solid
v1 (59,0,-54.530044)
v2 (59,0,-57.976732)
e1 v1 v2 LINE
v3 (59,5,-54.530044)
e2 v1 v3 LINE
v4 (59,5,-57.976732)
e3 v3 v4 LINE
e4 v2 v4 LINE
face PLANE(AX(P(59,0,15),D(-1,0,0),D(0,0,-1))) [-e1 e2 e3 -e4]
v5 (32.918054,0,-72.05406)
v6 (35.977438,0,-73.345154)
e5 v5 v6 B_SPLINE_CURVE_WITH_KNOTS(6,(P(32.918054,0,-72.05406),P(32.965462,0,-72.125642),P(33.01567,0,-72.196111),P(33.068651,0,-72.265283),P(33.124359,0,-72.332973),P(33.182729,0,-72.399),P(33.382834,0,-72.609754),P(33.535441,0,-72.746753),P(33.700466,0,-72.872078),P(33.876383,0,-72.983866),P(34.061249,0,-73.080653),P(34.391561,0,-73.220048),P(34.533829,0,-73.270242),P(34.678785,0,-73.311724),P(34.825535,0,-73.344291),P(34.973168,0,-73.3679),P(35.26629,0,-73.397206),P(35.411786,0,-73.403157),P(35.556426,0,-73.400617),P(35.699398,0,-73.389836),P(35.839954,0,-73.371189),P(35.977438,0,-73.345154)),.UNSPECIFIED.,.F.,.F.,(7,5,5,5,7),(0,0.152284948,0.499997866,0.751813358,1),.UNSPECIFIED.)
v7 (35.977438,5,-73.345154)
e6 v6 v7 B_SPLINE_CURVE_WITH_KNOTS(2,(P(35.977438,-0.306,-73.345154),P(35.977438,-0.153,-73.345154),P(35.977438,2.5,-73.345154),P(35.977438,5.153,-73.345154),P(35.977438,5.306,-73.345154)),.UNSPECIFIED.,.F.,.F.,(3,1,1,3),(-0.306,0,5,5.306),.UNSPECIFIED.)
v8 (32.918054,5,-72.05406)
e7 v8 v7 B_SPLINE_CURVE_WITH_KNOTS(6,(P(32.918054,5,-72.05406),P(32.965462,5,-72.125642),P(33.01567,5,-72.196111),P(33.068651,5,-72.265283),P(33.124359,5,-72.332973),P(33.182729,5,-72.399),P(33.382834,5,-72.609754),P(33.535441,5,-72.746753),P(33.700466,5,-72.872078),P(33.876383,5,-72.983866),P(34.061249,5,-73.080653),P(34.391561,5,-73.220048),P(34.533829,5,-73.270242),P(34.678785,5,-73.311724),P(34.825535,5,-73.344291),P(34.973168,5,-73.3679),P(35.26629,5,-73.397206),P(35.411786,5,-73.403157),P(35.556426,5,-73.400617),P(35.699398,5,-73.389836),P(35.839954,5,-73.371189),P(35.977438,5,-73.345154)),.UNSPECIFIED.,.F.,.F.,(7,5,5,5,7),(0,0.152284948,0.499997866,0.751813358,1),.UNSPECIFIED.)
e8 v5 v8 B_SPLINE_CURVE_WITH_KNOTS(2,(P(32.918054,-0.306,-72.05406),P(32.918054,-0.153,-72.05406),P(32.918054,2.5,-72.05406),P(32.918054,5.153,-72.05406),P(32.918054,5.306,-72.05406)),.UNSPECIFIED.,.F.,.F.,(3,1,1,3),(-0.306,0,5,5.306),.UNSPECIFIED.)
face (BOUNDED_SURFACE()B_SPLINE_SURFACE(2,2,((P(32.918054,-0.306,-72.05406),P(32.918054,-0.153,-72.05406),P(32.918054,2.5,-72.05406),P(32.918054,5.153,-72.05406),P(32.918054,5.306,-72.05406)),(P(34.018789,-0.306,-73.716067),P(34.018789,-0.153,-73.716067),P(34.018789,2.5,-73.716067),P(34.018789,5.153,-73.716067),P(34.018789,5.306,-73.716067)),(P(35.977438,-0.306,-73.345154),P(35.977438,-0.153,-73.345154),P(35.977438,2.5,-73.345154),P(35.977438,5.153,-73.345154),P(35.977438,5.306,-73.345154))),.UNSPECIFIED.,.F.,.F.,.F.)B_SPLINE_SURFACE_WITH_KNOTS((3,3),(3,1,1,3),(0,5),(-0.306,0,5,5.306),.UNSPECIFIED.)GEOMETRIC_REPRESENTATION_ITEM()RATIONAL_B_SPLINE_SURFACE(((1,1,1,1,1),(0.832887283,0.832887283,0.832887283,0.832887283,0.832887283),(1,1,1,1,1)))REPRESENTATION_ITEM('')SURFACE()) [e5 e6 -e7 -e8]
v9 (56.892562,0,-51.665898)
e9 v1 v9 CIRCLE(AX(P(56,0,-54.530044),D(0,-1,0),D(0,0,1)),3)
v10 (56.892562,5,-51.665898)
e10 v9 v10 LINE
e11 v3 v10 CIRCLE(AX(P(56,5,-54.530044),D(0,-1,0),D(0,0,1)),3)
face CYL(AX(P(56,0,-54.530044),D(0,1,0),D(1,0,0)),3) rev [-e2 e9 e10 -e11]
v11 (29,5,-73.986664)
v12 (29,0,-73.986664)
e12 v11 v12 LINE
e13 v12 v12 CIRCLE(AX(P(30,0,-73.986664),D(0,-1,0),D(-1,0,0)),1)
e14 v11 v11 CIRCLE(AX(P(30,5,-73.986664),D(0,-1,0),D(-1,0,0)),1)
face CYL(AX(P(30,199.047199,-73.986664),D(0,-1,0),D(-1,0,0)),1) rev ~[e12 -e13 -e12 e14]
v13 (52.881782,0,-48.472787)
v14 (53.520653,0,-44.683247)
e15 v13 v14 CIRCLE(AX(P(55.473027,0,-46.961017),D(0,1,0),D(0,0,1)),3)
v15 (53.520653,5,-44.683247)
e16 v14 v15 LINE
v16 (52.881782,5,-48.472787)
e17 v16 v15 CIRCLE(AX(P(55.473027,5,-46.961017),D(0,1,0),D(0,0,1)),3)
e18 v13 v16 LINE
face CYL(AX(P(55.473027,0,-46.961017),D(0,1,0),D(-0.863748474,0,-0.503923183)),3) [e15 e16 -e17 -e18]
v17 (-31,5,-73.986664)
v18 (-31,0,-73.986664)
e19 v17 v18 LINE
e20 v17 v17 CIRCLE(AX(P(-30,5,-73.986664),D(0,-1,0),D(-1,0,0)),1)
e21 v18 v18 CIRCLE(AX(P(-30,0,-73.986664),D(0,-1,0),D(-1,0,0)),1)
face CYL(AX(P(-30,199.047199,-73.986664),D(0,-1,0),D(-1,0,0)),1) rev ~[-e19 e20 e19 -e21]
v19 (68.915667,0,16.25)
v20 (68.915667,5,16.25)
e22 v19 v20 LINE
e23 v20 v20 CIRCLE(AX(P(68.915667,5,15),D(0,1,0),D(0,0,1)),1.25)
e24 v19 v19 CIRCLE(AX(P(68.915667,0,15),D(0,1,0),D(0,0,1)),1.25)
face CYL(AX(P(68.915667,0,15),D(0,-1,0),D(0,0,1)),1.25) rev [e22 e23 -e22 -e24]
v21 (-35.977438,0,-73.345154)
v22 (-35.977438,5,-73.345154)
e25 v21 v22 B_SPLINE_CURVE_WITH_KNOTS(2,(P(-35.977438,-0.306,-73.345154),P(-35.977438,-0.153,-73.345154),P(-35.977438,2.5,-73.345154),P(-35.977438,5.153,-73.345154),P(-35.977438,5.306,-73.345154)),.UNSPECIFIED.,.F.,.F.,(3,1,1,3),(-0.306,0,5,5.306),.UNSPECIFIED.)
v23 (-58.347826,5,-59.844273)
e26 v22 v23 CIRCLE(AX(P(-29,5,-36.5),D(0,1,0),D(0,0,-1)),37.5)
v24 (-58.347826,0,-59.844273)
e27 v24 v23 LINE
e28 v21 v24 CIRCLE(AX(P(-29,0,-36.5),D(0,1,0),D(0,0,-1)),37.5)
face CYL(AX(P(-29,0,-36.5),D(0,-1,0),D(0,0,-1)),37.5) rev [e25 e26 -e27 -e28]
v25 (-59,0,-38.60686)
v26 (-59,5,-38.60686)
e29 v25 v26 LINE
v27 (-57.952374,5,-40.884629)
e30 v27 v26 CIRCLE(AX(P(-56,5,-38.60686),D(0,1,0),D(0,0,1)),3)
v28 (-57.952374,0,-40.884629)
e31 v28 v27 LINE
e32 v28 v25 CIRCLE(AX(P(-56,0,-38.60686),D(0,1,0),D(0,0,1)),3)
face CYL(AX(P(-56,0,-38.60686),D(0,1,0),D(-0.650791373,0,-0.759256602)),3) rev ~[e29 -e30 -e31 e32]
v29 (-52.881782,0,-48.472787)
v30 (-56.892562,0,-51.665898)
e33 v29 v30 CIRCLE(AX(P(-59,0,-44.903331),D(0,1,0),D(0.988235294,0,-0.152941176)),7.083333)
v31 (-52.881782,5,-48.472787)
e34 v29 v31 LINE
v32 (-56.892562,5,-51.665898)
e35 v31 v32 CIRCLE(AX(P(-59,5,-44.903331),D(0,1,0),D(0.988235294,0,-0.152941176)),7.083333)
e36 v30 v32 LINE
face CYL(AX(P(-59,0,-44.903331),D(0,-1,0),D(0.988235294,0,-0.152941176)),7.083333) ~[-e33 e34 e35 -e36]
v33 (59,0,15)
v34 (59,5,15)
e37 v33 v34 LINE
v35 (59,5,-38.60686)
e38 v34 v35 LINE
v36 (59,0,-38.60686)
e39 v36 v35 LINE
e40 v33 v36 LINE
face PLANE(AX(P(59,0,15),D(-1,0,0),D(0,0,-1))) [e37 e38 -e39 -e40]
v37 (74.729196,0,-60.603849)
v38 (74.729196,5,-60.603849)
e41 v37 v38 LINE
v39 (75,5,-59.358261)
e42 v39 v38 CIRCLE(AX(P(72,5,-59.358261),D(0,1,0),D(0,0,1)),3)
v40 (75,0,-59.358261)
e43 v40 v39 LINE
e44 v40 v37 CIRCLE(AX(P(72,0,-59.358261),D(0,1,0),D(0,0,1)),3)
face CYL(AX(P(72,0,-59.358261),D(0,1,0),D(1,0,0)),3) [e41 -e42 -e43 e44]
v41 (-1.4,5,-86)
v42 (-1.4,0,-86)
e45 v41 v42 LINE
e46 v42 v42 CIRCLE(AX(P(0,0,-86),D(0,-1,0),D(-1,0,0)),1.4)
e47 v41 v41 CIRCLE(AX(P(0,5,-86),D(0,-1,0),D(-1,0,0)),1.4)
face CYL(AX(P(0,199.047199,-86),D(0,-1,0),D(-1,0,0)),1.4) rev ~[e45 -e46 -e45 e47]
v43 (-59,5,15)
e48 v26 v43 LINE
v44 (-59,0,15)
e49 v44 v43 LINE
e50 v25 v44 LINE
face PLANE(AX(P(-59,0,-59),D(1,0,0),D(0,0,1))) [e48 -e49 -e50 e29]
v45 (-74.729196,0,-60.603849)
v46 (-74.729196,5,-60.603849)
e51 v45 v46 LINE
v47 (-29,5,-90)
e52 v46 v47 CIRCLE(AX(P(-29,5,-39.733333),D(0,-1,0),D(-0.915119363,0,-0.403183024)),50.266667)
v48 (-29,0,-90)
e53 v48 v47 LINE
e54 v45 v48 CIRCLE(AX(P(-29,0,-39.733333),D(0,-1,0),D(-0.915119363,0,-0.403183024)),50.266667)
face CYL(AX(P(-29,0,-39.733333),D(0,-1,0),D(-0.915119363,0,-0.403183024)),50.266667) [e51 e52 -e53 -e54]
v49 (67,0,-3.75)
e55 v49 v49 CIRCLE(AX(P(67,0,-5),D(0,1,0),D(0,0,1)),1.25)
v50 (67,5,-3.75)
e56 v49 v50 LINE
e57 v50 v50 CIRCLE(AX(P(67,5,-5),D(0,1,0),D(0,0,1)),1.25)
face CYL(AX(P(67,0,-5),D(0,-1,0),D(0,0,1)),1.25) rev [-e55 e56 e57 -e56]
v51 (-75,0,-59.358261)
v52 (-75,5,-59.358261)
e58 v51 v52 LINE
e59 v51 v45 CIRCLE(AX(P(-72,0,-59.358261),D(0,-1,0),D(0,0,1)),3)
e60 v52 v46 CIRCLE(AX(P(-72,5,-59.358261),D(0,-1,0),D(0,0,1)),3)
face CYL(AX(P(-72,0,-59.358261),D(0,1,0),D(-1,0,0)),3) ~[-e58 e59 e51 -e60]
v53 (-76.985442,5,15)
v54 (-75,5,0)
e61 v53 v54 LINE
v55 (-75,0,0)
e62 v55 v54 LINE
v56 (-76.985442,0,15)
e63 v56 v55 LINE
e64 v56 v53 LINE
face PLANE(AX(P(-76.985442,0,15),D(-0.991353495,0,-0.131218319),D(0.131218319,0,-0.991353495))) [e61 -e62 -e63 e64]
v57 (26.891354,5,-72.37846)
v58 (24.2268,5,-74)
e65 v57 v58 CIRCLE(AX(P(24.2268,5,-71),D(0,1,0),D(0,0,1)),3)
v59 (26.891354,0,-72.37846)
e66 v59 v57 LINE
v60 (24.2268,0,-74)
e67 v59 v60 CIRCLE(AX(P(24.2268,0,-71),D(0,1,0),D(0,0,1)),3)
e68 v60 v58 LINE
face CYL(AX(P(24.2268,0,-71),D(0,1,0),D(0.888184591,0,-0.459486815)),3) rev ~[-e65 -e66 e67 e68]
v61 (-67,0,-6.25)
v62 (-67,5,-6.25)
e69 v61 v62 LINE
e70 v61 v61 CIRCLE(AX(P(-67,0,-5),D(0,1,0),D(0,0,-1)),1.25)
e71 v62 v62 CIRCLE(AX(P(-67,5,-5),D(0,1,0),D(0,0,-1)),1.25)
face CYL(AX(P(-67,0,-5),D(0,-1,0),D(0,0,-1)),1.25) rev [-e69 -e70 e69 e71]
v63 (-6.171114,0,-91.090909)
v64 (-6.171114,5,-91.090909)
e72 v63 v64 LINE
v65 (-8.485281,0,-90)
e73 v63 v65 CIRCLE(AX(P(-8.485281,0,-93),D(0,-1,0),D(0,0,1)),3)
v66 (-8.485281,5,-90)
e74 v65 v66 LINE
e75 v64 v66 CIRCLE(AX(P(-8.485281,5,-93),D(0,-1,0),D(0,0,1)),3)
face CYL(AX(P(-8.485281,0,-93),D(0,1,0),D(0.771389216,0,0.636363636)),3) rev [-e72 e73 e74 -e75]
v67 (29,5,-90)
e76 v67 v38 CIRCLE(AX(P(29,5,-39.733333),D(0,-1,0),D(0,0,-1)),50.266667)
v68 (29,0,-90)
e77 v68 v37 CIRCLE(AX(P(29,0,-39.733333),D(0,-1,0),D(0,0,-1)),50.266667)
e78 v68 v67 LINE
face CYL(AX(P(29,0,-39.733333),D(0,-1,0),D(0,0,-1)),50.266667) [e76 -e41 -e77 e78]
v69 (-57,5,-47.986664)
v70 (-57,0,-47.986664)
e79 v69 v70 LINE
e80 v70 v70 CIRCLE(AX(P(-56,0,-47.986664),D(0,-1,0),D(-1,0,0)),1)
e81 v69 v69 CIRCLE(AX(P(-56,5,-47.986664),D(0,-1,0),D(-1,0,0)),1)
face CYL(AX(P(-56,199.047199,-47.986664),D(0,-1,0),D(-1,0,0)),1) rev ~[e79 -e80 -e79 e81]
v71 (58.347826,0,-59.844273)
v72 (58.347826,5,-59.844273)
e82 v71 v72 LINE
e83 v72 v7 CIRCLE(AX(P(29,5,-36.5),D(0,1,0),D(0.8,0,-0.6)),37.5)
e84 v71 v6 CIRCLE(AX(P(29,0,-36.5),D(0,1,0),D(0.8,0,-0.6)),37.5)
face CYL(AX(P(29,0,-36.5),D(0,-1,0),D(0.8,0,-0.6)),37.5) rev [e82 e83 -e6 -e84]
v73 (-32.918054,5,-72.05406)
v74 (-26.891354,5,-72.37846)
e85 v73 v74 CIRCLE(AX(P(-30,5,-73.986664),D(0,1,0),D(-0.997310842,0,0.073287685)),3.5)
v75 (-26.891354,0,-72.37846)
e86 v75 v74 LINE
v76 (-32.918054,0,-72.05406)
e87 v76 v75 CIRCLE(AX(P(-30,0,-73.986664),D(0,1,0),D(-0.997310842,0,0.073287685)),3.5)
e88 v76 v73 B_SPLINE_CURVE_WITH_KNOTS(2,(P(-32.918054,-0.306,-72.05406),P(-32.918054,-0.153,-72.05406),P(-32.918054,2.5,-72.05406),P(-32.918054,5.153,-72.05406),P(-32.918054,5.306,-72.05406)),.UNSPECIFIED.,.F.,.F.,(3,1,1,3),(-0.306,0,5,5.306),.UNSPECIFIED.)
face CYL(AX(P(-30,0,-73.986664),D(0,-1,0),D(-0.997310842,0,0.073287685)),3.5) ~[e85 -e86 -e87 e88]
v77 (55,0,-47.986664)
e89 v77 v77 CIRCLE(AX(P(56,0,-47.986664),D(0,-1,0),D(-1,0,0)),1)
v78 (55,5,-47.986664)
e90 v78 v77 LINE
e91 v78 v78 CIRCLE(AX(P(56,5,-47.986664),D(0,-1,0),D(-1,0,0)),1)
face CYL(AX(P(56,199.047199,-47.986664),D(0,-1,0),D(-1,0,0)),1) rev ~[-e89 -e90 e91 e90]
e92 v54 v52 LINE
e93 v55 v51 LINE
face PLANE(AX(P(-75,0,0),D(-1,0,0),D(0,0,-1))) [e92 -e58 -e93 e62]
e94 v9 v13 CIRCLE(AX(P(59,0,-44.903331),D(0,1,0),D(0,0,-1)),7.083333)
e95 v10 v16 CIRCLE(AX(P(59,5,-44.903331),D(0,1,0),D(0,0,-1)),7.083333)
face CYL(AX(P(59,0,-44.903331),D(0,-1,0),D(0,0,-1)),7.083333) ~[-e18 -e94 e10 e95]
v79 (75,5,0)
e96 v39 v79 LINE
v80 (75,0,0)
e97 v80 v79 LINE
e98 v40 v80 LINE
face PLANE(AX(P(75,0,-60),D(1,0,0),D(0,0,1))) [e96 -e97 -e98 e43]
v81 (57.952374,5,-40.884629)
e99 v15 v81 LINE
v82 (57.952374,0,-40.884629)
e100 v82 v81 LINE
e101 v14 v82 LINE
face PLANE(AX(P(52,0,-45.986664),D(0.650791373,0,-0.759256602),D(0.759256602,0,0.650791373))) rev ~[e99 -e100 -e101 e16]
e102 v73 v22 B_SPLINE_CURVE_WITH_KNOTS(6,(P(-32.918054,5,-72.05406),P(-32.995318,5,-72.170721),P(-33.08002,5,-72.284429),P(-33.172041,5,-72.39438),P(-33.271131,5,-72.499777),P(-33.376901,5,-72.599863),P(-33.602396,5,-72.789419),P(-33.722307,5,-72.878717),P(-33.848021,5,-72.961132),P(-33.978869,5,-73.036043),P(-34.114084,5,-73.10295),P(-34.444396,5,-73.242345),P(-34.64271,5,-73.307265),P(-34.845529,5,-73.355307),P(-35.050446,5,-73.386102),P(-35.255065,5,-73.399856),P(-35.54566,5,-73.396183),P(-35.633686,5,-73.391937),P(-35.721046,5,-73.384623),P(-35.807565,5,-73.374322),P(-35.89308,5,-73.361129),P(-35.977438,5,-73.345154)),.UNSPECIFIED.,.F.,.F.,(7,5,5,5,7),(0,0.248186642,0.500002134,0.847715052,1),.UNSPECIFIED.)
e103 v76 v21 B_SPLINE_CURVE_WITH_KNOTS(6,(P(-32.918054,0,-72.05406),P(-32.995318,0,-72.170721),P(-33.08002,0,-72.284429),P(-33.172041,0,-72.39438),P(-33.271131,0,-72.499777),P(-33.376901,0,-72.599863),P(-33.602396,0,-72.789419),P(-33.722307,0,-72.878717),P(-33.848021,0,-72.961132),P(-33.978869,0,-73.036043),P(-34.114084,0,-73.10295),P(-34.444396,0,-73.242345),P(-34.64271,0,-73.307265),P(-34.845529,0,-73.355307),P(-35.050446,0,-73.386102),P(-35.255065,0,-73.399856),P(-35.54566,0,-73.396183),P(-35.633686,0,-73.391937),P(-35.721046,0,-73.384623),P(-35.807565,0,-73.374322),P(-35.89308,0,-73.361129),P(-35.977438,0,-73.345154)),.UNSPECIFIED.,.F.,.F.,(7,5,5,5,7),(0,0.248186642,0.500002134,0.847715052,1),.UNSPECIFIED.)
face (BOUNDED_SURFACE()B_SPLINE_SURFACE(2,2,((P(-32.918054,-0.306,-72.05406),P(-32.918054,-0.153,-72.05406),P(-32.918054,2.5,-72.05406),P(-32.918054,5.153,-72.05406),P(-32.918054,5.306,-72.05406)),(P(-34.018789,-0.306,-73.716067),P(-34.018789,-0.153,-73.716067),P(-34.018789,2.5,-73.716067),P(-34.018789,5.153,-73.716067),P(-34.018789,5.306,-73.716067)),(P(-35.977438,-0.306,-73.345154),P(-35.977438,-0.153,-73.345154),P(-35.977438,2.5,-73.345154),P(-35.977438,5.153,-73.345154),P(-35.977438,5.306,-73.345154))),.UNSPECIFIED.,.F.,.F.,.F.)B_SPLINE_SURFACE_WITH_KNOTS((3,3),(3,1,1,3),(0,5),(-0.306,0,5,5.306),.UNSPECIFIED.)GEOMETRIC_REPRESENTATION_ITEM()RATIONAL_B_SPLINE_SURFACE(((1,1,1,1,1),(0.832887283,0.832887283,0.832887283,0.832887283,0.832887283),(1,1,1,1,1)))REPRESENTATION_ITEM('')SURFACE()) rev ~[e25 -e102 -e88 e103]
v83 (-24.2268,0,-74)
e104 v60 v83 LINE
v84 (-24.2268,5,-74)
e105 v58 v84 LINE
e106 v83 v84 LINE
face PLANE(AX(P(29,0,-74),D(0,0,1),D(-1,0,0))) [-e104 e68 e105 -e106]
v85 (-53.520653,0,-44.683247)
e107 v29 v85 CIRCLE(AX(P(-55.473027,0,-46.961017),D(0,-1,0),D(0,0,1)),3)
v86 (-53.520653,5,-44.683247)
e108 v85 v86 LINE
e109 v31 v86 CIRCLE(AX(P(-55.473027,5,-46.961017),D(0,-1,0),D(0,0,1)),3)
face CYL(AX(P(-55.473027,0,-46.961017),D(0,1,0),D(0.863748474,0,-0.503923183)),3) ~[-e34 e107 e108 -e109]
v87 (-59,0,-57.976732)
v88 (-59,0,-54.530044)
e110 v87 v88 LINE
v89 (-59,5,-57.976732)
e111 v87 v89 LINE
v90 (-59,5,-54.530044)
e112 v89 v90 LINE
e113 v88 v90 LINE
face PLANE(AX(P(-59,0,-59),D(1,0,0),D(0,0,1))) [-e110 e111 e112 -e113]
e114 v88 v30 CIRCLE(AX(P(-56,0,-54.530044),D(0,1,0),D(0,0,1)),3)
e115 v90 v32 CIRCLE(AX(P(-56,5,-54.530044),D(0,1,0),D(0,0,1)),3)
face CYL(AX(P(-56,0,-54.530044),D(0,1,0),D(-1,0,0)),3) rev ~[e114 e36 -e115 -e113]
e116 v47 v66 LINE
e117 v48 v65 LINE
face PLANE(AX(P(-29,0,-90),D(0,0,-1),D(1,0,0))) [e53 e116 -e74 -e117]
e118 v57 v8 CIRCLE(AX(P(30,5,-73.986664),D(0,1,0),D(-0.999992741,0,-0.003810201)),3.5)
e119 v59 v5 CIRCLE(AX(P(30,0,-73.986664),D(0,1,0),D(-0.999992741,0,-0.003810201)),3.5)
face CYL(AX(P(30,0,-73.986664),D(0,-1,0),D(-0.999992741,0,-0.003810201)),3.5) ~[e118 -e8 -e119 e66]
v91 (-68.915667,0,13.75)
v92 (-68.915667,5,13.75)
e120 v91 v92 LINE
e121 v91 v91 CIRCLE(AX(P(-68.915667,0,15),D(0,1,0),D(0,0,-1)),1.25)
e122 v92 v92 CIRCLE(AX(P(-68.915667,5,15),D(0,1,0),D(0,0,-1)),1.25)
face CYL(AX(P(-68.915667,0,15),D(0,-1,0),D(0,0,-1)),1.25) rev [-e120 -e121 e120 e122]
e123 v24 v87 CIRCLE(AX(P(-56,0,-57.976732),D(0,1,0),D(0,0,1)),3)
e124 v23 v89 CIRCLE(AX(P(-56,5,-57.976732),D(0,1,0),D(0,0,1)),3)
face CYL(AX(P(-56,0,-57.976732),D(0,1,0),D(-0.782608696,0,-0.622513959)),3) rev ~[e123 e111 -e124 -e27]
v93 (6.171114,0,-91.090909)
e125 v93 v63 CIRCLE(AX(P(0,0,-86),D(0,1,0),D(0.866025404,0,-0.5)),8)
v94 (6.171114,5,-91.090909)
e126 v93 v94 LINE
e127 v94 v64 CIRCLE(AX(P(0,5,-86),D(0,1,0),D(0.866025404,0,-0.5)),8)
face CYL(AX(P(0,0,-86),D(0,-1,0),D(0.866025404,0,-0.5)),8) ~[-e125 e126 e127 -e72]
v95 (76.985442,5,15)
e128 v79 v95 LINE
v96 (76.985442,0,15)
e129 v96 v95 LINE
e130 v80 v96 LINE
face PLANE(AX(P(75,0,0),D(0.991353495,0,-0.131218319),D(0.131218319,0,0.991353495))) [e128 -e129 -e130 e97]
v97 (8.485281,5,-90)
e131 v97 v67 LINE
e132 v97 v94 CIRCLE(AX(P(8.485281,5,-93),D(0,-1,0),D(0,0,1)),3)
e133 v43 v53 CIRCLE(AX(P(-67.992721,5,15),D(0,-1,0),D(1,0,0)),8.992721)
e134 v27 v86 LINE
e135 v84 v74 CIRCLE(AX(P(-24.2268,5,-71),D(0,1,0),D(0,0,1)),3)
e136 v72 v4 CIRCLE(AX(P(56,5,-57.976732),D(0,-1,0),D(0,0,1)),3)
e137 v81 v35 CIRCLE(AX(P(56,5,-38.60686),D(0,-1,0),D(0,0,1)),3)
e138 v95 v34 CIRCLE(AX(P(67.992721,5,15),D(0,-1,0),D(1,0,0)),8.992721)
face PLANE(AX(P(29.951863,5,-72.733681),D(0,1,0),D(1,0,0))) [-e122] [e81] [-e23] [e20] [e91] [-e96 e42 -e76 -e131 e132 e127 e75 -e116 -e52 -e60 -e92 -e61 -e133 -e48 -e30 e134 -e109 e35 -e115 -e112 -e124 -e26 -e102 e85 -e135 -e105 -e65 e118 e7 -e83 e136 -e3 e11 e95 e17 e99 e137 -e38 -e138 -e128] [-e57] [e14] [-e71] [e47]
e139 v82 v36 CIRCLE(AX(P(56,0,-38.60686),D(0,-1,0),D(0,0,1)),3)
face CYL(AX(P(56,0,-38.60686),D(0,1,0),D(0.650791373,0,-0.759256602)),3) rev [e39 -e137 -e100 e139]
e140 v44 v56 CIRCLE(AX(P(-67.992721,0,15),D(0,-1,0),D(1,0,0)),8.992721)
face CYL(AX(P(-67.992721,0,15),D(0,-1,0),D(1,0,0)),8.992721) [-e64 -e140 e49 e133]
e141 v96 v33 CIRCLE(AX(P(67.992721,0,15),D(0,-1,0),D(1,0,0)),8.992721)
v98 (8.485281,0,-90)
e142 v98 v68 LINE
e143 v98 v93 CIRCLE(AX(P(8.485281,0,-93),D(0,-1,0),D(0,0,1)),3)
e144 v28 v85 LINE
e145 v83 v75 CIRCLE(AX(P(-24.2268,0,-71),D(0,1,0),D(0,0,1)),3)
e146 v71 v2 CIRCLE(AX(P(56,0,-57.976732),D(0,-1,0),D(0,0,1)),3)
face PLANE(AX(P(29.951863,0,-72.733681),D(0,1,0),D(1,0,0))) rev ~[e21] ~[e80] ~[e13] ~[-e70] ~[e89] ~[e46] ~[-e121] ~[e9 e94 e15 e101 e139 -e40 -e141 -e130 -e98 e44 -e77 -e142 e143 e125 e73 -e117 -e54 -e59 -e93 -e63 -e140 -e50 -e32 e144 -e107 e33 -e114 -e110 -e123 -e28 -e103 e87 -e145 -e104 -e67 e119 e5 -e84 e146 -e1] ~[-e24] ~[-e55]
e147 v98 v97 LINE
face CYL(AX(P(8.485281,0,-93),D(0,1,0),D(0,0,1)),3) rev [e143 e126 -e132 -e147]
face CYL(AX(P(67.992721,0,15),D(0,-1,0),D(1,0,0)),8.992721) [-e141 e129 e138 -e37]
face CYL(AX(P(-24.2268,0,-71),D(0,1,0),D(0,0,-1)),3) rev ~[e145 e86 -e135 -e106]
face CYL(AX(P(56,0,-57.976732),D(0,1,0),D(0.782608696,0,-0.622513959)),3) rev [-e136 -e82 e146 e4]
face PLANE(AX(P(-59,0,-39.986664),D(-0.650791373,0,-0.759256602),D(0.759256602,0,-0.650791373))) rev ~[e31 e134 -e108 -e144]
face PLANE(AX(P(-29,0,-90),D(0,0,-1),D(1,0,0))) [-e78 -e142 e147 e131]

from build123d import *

# Parameters (mm, degrees)
SKETCH1_R                  = 1.25
BOSS_EXTRUDE1_DEPTH        = 5
BOSS_EXTRUDE2_START        = -5
BOSS_EXTRUDE2_DEPTH        = 5
F_2_0_2_DIAMETER_HOLE2_D   = 2
FILLET2_R                  = 3
F_2_8_2_8_DIAMETER_HOLE1_D = 2.8


with BuildPart() as part:
    # Sketch1 → Boss-Extrude1 (new body)
    with BuildSketch(Plane(origin=(0, 0, 0), x_dir=(1, 0, 0), z_dir=(0, 1, 0))):
        with BuildLine():
            Line((29, 74), (-29, 74))
            ThreePointArc((-29, 74), (-45.770509831, 70.041019662), (-59, 59))
            Line((-59, 59), (-59, 0))
            Line((-59, 0), (-59, -15))
            ThreePointArc((-59, -15), (-67.992720962, -23.992720962), (-76.985441925, -15))
            Line((-76.985441925, -15), (-75, 0))
            Line((-75, 0), (-75, 60))
            ThreePointArc((-75, 60), (-56.459060435, 81.837226001), (-29, 90))
            Line((-29, 90), (29, 90))
            ThreePointArc((29, 90), (56.459060435, 81.837226001), (75, 60))
            Line((75, 60), (75, 0))
            Line((75, 0), (76.985441925, -15))
            ThreePointArc((76.985441925, -15), (67.992720962, -23.992720962), (59, -15))
            Line((59, -15), (59, 0))
            Line((59, 0), (59, 59))
            ThreePointArc((59, 59), (45.770509831, 70.041019662), (29, 74))
        make_face()
        with Locations(Location((67, 5, 0), (0, 0, 270))):
            Circle(SKETCH1_R, mode=Mode.SUBTRACT)
        with Locations(Location((68.915666574, -15, 0), (0, 0, 270))):
            Circle(SKETCH1_R, mode=Mode.SUBTRACT)
        with Locations(Location((-68.915666574, -15, 0), (0, 0, 90))):
            Circle(SKETCH1_R, mode=Mode.SUBTRACT)
        with Locations(Location((-67, 5, 0), (0, 0, 90))):
            Circle(SKETCH1_R, mode=Mode.SUBTRACT)
    extrude(amount=BOSS_EXTRUDE1_DEPTH)

    # Sketch2 → Boss-Extrude2 (add)
    with BuildSketch(Plane(origin=(0, 5, 0), x_dir=(1, 0, 0), z_dir=(0, 1, 0)).offset(BOSS_EXTRUDE2_START)):
        with BuildLine():
            Line((52, 45.986664295), (59, 39.986664295))
            Line((59, 39.986664295), (59, 51.986664295))
            ThreePointArc((59, 51.986664295), (54.390227771, 50.281398562), (52, 45.986664295))
        make_face()
        with BuildLine():
            ThreePointArc((26.500025406, 74), (29.864997094, 70.489268948), (33.490587946, 73.730157398))
            ThreePointArc((33.490587946, 73.730157398), (31.249344079, 73.932478561), (29, 74))
            Line((29, 74), (26.500025406, 74))
        make_face()
        with BuildLine():
            ThreePointArc((-33.490587946, 73.730157398), (-29.864997094, 70.489268948), (-26.500025406, 74))
            Line((-26.500025406, 74), (-29, 74))
            ThreePointArc((-29, 74), (-31.249344079, 73.932478561), (-33.490587946, 73.730157398))
        make_face()
        with BuildLine():
            Line((-6.92820323, 90), (6.92820323, 90))
            ThreePointArc((6.92820323, 90), (0, 94), (-6.92820323, 90))
        make_face()
        with BuildLine():
            ThreePointArc((-52, 45.986664295), (-54.390227771, 50.281398562), (-59, 51.986664295))
            Line((-59, 51.986664295), (-59, 39.986664295))
            Line((-59, 39.986664295), (-52, 45.986664295))
        make_face()
    extrude(amount=BOSS_EXTRUDE2_DEPTH)

    # Ø2.0 (2) Diameter Hole2 (through all)
    with Locations(Plane(origin=(0, 5, 0), x_dir=(1, 0, 0), z_dir=(0, 1, 0))):
        with Locations((30, 73.986664295), (56, 47.986664295), (-30, 73.986664295), (-56, 47.986664295)):
            Hole(F_2_0_2_DIAMETER_HOLE2_D / 2)

    # Fillet2
    fillet2_edges = [part.edges().sort_by_distance(p)[0] for p in [
        (52, 2.5, -45.986664295),
        (59, 2.5, -51.986664295),
        (59, 2.5, -39.986664295),
        (59, 2.5, -59),
        (-59, 2.5, -59),
        (-75, 2.5, -60),
        (75, 2.5, -60),
        (-6.92820323, 2.5, -90),
        (6.92820323, 2.5, -90),
        (-26.500025406, 2.5, -74),
        (-33.490587946, 2.5, -73.730157398),
        (-52, 2.5, -45.986664295),
        (-59, 2.5, -39.986664295),
        (-59, 2.5, -51.986664295),
        (26.500025406, 2.5, -74),
        (33.490587946, 2.5, -73.730157398),
    ]]
    fillet(fillet2_edges, radius=FILLET2_R)

    # Ø2.8 (2.8) Diameter Hole1 (through all)
    with Locations(Plane(origin=(0, 5, 0), x_dir=(1, 0, 0), z_dir=(0, 1, 0))):
        with Locations((0, 86)):
            Hole(F_2_8_2_8_DIAMETER_HOLE1_D / 2)


solid = part.part
